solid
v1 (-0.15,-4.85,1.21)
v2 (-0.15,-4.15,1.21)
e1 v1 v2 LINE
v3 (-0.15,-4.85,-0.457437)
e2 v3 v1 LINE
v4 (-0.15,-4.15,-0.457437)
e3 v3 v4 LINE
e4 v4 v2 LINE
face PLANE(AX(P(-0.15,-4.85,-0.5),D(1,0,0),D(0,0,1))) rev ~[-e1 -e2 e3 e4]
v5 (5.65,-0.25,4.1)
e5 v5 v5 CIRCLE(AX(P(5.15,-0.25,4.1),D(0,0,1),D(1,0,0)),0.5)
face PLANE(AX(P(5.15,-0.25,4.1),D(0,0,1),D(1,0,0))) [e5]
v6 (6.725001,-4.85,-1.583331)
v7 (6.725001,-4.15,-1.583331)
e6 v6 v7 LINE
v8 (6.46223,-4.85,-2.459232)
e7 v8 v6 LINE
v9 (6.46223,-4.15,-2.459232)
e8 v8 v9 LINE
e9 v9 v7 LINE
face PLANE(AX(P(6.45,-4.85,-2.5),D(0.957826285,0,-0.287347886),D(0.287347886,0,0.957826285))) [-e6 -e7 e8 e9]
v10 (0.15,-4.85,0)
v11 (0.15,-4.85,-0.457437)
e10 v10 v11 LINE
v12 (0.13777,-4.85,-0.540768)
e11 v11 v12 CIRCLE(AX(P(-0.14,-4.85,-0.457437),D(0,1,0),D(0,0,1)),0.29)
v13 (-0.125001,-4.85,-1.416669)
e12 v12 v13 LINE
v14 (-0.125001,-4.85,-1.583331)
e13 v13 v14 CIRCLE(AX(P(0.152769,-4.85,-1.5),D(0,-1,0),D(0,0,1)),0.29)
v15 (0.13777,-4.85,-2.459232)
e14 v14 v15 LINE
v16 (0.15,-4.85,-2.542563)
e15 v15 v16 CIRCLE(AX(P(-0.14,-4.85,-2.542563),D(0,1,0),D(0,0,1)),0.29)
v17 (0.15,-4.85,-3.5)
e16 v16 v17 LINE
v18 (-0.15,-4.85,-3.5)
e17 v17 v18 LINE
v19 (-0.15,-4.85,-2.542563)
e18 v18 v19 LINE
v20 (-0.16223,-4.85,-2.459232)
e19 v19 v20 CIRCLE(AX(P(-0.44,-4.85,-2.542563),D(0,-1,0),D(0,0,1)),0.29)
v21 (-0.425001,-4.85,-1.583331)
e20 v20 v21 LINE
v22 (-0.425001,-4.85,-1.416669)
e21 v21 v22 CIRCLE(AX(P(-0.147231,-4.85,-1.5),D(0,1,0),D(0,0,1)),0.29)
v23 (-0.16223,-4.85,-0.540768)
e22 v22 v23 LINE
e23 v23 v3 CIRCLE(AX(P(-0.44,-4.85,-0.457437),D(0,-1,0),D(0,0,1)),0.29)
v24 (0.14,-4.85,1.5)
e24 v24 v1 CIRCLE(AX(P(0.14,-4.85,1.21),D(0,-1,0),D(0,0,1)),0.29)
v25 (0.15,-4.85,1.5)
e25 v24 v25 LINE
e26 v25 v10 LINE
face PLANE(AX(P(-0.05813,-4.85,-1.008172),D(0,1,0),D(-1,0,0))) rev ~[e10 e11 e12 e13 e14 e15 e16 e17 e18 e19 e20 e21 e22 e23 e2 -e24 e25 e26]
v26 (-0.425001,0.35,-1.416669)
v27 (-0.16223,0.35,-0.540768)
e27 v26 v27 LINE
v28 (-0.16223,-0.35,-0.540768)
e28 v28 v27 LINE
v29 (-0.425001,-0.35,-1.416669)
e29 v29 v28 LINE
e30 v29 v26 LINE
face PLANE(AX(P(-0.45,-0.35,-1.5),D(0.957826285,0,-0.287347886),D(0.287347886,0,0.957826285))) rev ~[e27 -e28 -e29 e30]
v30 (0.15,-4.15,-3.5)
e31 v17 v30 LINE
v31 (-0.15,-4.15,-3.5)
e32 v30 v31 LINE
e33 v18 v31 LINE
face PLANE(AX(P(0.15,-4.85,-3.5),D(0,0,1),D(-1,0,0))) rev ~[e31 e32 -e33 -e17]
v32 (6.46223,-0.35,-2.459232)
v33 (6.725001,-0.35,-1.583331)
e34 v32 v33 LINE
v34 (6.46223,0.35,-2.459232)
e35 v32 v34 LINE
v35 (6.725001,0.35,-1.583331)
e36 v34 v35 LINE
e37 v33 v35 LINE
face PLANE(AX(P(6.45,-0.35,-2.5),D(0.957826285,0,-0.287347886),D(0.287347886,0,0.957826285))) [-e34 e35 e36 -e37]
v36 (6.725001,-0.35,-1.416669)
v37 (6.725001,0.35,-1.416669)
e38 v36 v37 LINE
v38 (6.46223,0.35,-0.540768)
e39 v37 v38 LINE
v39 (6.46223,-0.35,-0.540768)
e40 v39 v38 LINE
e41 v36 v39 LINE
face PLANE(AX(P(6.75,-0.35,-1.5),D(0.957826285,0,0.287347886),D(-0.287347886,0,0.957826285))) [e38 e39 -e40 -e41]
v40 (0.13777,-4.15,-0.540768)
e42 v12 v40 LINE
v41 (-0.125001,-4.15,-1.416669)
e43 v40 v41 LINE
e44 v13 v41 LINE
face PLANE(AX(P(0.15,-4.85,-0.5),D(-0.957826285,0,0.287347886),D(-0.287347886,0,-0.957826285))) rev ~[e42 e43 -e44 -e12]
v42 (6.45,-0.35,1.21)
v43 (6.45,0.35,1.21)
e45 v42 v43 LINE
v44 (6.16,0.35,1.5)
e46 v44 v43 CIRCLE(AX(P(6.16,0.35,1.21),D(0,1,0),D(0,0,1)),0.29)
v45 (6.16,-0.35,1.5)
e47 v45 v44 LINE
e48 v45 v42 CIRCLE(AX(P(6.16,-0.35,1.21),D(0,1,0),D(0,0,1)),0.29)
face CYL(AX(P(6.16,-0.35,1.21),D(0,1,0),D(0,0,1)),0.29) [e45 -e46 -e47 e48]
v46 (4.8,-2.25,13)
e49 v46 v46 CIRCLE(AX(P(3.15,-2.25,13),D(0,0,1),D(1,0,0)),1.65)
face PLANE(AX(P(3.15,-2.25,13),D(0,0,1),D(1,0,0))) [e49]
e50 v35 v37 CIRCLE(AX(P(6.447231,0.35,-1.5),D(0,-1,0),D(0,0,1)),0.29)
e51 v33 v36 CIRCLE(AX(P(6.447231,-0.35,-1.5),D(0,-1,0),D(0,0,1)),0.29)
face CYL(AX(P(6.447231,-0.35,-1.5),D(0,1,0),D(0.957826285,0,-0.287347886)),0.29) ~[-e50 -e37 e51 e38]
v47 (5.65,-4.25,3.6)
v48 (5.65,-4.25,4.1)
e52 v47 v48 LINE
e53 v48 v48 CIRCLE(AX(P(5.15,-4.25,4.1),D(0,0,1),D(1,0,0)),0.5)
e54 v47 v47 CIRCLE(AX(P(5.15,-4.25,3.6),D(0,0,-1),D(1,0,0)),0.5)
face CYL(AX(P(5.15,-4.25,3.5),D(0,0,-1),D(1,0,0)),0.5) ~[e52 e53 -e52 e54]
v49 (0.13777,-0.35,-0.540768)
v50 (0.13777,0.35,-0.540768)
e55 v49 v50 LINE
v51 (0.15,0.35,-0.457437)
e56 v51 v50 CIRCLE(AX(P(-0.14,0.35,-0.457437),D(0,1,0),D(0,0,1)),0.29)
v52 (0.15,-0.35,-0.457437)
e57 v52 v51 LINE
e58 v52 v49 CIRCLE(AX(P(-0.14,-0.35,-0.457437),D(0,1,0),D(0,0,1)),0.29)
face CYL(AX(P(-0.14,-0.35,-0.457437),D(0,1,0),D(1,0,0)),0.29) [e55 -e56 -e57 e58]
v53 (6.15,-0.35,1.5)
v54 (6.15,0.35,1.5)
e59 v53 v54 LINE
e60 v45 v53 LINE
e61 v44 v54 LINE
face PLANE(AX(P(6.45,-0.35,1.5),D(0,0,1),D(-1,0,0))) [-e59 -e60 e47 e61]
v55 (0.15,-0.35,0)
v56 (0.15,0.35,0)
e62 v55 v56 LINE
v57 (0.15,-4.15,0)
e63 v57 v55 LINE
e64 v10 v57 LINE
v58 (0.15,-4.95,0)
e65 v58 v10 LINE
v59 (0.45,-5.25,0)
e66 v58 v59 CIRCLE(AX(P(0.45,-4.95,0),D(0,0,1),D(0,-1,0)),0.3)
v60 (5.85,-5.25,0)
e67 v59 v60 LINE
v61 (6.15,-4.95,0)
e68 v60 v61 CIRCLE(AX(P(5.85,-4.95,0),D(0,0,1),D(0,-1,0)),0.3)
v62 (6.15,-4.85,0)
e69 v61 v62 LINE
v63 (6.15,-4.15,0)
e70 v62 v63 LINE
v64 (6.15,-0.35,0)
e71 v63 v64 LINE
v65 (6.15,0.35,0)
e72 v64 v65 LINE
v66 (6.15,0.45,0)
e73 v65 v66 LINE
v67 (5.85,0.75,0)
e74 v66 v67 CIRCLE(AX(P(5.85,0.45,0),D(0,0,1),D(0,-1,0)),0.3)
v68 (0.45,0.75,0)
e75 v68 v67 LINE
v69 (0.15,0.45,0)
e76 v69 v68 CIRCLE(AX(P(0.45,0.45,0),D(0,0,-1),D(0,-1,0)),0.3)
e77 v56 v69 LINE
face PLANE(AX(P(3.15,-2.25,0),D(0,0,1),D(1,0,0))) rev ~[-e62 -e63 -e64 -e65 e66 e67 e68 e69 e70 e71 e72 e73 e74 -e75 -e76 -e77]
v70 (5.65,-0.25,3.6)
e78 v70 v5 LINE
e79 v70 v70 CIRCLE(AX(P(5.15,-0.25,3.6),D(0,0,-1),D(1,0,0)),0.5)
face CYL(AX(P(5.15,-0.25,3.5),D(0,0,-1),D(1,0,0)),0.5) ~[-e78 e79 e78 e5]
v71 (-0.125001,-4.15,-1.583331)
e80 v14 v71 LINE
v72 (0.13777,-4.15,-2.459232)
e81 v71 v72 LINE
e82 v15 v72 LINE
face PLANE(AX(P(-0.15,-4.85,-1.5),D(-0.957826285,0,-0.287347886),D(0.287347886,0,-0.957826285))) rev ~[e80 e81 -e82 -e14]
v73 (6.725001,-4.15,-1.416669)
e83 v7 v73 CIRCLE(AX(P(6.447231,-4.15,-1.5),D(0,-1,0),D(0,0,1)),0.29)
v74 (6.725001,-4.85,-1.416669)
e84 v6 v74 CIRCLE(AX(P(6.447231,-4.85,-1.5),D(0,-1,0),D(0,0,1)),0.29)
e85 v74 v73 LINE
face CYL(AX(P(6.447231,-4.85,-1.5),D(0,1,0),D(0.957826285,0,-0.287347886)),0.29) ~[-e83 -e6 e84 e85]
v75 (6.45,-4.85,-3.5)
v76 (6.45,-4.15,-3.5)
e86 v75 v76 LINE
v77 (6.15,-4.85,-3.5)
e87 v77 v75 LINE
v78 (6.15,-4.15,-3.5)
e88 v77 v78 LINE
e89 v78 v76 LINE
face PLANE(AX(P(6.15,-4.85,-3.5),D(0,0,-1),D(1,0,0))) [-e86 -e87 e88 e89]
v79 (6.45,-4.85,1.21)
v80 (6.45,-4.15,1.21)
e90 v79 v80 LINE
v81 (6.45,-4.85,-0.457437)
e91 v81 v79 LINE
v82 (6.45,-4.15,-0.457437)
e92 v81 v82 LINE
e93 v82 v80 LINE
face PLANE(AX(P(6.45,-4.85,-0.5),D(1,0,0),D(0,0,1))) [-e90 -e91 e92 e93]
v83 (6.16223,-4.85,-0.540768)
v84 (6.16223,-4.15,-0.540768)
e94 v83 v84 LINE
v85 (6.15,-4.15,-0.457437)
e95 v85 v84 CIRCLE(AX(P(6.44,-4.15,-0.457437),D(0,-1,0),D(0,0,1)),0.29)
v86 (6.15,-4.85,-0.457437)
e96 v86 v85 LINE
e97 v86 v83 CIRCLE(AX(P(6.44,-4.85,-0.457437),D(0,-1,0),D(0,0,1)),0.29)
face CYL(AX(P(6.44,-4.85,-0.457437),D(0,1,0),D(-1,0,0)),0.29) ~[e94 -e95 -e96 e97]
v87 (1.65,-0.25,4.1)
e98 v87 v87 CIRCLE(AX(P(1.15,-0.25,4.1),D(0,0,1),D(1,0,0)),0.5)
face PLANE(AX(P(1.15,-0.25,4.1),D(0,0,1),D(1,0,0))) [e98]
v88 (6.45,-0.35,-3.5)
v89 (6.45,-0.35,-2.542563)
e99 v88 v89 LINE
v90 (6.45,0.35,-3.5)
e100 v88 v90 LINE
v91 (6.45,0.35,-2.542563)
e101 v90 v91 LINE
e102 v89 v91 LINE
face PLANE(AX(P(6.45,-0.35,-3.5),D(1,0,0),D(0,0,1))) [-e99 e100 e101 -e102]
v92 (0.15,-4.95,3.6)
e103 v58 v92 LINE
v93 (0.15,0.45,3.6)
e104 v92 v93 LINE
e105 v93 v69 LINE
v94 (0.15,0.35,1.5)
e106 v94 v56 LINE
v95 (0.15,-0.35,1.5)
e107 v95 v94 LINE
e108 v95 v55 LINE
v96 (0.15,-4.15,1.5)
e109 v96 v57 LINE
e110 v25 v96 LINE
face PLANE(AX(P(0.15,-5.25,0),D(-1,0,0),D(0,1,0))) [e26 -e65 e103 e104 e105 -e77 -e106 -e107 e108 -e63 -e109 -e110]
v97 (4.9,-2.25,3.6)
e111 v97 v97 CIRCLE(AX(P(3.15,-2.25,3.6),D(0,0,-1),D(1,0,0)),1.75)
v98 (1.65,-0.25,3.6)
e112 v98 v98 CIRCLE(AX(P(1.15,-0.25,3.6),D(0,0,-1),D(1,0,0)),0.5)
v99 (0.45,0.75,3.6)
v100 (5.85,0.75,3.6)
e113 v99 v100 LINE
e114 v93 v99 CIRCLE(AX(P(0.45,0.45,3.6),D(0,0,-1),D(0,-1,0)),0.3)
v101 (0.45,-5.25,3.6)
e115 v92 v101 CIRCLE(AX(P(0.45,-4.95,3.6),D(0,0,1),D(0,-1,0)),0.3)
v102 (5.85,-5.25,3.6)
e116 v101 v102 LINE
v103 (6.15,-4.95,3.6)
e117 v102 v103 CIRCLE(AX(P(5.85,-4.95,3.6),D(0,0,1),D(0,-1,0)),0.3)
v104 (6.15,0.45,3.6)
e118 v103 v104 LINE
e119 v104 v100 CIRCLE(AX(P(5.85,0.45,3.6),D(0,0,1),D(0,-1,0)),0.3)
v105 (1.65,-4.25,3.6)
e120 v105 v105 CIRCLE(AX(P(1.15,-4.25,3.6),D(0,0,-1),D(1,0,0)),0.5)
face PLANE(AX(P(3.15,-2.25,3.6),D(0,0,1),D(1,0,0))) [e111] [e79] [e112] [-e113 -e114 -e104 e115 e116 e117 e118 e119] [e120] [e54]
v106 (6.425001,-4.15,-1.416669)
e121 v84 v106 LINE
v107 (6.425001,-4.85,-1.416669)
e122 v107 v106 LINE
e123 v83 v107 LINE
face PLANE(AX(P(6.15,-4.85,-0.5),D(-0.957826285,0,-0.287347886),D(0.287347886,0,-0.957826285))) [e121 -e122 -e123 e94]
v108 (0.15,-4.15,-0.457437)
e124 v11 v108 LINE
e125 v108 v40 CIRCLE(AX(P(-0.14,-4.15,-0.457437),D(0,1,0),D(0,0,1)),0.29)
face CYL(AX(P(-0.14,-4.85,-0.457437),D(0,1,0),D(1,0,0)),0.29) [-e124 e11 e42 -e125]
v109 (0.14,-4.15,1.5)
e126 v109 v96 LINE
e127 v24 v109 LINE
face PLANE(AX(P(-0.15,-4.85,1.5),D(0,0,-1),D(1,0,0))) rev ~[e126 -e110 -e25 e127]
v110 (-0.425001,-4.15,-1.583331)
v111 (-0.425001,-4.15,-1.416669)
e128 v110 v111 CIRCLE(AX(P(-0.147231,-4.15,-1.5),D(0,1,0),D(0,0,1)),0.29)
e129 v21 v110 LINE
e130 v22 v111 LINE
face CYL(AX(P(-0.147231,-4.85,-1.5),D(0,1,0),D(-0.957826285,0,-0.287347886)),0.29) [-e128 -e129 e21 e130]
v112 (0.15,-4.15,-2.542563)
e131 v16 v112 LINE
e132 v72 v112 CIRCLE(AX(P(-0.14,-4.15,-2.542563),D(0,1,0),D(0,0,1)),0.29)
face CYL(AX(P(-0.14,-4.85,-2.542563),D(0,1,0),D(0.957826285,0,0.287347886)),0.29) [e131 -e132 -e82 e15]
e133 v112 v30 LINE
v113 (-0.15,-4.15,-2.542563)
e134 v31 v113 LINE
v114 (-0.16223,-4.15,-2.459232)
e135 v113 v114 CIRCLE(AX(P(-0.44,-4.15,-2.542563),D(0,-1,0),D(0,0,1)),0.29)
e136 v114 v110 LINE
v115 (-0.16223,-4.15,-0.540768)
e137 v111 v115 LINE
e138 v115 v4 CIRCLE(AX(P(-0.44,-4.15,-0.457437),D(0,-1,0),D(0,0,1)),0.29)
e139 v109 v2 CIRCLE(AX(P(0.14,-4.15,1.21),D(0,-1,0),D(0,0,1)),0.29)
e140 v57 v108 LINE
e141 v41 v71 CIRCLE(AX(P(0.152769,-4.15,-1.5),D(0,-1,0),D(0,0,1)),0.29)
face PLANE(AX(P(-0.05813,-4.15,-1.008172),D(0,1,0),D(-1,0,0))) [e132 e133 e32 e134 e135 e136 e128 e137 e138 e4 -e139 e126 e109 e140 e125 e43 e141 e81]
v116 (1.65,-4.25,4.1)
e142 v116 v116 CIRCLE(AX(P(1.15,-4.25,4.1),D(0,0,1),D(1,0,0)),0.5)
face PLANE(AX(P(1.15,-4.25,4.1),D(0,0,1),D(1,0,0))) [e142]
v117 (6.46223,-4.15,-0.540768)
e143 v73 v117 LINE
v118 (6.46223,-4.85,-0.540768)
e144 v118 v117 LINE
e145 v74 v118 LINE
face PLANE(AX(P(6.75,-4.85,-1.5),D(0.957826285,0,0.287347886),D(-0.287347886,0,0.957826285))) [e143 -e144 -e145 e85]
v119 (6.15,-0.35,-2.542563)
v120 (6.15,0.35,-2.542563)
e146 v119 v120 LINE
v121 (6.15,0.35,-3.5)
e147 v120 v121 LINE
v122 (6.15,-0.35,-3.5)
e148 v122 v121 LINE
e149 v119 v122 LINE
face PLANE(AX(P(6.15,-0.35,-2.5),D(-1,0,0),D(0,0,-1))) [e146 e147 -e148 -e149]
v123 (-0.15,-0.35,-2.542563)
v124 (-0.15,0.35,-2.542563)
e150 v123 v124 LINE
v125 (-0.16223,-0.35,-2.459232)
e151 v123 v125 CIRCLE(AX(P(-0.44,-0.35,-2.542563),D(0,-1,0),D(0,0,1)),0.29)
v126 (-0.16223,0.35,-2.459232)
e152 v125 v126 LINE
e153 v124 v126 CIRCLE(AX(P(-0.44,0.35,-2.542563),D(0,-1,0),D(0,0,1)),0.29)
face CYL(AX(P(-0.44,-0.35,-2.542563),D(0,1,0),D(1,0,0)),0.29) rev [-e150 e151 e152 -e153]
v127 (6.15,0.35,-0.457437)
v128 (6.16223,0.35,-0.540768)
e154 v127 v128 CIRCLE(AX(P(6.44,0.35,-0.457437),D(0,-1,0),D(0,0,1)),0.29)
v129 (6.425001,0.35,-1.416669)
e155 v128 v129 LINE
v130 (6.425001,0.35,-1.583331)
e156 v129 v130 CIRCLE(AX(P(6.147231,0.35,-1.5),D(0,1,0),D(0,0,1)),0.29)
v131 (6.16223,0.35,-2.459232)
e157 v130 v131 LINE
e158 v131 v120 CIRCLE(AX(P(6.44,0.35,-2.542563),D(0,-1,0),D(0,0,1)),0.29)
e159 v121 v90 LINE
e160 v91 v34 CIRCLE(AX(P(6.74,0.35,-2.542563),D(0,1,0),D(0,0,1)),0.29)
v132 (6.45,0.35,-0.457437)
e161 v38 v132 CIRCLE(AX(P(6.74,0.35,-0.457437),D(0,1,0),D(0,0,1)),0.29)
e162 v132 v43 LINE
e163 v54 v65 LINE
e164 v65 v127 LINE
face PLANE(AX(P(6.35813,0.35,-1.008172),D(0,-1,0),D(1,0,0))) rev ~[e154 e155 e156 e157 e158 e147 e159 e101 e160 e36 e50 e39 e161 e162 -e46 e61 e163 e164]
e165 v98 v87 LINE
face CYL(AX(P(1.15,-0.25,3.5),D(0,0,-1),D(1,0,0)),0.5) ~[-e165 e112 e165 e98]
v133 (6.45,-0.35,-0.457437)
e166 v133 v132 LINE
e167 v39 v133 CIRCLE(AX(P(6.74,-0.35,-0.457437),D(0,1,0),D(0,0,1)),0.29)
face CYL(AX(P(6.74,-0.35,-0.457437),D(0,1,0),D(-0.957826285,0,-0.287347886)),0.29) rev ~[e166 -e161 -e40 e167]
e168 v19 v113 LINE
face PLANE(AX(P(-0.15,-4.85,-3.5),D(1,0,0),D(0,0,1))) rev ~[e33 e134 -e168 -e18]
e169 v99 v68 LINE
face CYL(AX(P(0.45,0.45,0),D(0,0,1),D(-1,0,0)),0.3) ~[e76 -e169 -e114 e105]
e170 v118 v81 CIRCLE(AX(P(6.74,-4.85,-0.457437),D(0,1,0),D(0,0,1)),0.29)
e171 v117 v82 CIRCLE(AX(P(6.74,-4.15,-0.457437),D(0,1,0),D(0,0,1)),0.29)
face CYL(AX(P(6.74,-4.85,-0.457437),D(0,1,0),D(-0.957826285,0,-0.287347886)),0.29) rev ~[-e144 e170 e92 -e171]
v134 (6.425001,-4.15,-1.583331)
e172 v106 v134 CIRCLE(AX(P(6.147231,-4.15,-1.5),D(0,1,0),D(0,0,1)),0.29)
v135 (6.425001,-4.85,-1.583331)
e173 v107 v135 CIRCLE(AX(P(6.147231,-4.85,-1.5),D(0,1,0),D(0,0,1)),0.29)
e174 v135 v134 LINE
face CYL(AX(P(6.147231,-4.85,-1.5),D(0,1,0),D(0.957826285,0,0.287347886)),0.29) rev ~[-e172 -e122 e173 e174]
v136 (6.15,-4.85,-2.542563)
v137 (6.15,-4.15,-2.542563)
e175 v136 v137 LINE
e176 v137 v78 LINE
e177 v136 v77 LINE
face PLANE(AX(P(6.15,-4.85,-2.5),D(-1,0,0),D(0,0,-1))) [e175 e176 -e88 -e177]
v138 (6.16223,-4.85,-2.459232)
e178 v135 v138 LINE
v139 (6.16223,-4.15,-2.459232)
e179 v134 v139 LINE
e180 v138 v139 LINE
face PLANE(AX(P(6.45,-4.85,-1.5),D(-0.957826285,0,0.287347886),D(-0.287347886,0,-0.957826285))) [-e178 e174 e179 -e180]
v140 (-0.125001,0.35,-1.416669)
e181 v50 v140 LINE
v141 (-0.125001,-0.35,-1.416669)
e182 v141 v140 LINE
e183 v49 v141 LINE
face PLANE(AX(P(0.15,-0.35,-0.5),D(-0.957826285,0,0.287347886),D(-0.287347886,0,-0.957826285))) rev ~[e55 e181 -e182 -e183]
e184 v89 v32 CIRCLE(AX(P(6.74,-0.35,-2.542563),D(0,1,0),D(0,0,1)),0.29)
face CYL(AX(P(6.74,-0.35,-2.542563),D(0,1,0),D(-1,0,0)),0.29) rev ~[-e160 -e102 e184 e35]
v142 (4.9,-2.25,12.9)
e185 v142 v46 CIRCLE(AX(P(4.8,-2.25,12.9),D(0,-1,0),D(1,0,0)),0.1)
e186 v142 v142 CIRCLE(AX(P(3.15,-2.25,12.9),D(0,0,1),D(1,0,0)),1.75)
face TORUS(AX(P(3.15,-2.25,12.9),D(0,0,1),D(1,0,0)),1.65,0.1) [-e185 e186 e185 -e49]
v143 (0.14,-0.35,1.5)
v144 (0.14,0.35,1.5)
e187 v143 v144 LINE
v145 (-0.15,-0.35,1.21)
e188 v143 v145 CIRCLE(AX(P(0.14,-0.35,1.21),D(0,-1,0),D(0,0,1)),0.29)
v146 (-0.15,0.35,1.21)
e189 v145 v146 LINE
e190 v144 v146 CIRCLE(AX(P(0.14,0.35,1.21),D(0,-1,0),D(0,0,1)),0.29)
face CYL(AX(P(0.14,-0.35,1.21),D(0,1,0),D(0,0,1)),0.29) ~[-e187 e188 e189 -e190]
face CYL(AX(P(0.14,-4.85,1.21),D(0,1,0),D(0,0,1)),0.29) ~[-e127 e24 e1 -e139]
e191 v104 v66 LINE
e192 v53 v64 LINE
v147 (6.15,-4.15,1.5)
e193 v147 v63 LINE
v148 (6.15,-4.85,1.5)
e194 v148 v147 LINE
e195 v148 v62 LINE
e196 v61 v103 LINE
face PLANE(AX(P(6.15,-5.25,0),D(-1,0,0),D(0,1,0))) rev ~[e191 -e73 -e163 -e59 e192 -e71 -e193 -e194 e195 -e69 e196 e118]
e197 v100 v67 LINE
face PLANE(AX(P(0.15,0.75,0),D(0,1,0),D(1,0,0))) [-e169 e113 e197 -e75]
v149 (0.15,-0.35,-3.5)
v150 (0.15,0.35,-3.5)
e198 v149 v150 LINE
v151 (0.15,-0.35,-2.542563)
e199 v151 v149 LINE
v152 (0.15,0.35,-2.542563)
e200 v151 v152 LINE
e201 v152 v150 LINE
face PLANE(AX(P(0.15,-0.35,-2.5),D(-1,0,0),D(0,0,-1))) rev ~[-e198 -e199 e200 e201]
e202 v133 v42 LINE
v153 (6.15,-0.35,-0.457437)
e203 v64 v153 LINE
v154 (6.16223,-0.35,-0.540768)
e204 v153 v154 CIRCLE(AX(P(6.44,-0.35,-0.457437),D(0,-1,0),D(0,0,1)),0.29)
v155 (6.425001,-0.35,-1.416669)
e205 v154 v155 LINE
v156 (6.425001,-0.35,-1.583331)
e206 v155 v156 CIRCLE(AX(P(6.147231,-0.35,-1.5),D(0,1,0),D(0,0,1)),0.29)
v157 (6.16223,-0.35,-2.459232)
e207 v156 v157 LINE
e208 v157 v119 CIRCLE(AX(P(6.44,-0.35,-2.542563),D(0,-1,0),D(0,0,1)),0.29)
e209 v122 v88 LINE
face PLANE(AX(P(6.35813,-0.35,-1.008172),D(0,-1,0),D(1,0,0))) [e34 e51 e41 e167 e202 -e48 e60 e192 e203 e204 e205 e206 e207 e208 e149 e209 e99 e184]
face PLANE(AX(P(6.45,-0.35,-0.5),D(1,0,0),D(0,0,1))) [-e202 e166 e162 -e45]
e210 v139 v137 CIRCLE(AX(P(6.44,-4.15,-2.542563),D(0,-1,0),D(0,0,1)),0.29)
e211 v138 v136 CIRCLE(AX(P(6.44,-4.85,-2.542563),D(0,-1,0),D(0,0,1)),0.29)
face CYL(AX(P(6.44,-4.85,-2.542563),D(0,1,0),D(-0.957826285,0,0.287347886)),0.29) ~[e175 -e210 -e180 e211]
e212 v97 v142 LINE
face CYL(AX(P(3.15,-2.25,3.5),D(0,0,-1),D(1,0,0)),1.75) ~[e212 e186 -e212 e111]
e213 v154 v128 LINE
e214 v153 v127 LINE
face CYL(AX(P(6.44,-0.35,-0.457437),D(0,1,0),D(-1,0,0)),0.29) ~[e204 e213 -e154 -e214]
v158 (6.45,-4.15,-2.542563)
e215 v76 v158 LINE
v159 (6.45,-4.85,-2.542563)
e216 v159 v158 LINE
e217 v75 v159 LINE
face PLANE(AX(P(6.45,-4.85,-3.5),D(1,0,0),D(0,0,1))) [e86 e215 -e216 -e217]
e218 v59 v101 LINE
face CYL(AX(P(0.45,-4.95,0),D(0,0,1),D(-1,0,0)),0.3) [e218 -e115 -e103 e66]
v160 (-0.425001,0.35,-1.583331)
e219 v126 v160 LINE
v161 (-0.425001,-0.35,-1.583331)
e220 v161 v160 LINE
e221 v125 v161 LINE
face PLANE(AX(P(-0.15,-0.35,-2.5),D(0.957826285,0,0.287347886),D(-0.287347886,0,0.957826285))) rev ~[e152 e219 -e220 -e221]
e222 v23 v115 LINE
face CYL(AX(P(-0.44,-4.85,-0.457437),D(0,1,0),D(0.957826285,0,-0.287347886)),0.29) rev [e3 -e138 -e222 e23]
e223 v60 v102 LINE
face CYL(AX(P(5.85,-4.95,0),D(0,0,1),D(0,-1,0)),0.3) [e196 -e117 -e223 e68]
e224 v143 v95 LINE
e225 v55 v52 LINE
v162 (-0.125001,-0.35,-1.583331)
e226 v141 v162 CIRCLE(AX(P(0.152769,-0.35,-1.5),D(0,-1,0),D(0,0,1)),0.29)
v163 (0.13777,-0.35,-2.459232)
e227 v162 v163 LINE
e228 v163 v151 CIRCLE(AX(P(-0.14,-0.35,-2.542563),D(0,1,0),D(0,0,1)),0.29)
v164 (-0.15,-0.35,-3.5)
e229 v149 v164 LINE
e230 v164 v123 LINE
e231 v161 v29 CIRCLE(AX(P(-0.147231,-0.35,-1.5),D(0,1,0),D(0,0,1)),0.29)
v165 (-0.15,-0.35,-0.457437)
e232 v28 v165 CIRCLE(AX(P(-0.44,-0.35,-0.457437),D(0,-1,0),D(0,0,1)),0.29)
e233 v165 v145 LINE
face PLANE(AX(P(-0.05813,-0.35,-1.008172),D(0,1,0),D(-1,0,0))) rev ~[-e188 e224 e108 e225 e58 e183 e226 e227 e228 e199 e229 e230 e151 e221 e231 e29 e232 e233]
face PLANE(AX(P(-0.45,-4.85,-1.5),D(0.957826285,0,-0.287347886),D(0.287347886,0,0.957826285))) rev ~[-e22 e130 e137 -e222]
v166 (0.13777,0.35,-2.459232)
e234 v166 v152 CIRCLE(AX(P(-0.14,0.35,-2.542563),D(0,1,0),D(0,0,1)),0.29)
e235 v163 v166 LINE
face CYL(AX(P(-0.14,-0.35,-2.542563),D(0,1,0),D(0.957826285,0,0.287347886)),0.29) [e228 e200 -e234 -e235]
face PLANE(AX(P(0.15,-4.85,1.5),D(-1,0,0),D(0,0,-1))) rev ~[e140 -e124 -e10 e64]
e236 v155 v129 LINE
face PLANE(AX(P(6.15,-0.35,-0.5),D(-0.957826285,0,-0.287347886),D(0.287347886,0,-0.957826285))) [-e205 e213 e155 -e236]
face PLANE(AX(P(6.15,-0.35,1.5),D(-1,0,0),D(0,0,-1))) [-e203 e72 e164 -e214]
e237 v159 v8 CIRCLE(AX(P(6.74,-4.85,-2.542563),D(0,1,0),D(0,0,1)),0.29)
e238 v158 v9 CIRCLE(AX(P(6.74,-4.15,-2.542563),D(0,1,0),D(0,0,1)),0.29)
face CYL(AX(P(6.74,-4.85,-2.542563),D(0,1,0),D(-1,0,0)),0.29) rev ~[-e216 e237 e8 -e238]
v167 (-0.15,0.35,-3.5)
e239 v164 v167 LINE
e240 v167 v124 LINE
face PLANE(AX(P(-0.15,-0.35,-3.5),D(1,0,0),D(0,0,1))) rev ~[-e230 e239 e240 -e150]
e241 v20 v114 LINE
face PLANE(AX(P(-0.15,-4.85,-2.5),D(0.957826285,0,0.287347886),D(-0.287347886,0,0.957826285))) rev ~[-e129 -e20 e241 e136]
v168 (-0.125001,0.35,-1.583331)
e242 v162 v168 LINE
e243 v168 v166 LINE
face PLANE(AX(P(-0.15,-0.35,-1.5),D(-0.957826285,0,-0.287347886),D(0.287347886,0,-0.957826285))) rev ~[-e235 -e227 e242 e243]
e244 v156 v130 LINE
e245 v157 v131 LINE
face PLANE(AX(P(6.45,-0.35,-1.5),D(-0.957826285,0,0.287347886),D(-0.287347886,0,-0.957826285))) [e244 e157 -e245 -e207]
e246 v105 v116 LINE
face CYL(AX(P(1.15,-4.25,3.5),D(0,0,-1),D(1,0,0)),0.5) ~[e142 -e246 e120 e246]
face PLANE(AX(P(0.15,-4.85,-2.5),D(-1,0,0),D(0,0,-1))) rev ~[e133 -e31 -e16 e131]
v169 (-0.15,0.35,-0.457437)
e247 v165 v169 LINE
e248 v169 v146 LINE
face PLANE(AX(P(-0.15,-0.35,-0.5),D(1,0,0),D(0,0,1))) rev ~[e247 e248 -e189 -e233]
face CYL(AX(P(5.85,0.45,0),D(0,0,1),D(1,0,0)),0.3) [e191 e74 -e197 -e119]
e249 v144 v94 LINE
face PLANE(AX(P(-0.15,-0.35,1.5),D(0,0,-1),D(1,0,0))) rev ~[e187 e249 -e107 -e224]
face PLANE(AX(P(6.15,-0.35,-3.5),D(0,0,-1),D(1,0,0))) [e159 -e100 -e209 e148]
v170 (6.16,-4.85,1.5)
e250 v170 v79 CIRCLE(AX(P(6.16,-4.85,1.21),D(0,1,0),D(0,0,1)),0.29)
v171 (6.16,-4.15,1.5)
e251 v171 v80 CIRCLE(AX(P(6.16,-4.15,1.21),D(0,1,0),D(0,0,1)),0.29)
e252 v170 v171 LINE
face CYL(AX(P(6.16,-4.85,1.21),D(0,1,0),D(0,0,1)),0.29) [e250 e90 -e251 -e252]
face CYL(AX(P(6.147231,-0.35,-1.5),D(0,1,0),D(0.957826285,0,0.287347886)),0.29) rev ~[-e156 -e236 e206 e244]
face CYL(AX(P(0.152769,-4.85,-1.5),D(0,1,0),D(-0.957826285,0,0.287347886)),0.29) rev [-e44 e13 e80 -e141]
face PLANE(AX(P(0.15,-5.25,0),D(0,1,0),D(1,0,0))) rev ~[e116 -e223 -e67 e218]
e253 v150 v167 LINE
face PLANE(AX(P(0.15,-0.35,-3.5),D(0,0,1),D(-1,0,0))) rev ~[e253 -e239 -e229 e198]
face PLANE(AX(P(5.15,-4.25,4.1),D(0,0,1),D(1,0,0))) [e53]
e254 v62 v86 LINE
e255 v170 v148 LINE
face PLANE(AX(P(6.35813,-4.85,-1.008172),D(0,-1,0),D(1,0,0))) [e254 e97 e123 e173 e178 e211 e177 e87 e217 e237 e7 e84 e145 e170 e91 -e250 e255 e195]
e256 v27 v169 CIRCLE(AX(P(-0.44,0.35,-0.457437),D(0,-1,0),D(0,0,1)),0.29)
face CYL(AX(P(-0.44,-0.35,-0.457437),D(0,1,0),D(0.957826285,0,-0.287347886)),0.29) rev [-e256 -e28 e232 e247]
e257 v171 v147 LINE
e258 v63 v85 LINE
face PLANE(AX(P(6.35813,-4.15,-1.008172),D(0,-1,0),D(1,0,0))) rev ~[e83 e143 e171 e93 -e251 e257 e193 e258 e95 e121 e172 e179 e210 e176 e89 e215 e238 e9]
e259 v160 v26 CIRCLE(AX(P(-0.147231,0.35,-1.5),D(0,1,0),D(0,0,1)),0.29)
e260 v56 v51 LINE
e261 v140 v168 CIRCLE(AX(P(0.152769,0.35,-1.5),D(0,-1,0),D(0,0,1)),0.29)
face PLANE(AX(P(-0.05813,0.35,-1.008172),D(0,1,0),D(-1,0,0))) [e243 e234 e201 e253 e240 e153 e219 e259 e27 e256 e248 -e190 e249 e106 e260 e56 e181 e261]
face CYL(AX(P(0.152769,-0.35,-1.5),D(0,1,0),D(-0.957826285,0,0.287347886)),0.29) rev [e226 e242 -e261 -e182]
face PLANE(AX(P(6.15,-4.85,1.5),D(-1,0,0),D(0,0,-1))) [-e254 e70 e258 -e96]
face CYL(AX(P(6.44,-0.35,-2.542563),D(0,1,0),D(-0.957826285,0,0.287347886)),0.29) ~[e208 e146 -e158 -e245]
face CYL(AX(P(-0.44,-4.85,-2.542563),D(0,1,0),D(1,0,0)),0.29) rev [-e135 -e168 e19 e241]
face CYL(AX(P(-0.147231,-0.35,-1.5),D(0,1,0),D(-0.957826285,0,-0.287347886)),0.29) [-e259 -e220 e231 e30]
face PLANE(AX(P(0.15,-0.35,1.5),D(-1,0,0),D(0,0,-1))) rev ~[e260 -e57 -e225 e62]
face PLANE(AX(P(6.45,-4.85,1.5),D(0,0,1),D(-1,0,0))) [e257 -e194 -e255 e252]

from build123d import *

# Parameters (mm, degrees)
SKETCH001_W  = 6
SKETCH001_H  = 6
PAD001_DEPTH = 0.1
FILLET001_R  = 0.3
PAD008_DEPTH = 0.7
FILLET003_R  = 0.29
PAD009_DEPTH = 0.7
FILLET004_R  = 0.29
PAD010_DEPTH = 0.7
FILLET005_R  = 0.29
SKETCH_W     = 6
SKETCH_H     = 6
PAD_DEPTH    = 3.5
FILLET_R     = 0.3
SKETCH004_R  = 0.5
PAD003_DEPTH = 0.6
SKETCH003_R  = 0.5
PAD004_DEPTH = 0.6
SKETCH005_R  = 0.5
PAD002_DEPTH = 0.6
SKETCH002_R  = 0.5
PAD005_DEPTH = 0.6
SKETCH006_R  = 1.75
PAD006_DEPTH = 9.5
FILLET006_R  = 0.1
PAD007_DEPTH = 0.7
FILLET002_R  = 0.29


with BuildPart() as fillet001:
    # Sketch001 → Pad001 (new body)
    with BuildSketch(Plane.XY.offset(3.5)):
        with Locations((3.15, -2.25)):
            Rectangle(SKETCH001_W, SKETCH001_H)
    extrude(amount=PAD001_DEPTH)

    # Fillet001
    fillet001_edges = [fillet001.edges().sort_by_distance(p)[0] for p in [
        (6.15, -5.25, 3.55),
        (0.15, -5.25, 3.55),
        (6.15, 0.75, 3.55),
        (0.15, 0.75, 3.55),
    ]]
    fillet(fillet001_edges, radius=FILLET001_R)


with BuildPart() as fillet003:
    # Sketch008 → Pad008 (new body)
    with BuildSketch(Plane.XZ.offset(0.35)):
        Polygon((-0.15, 1.5), (0.15, 1.5), (0.15, -0.5), (-0.15, -1.5), (0.15, -2.5), (0.15, -3.5), (-0.15, -3.5), (-0.15, -2.5), (-0.45, -1.5), (-0.15, -0.5), align=None)
    extrude(amount=-PAD008_DEPTH)

    # Fillet003
    fillet003_edges = [fillet003.edges().sort_by_distance(p)[0] for p in [
        (-0.15, 0, -2.5),
        (-0.15, 0, -0.5),
        (-0.45, 0, -1.5),
        (-0.15, 0, 1.5),
        (0.15, 0, -0.5),
        (-0.15, 0, -1.5),
        (0.15, 0, -2.5),
    ]]
    fillet(fillet003_edges, radius=FILLET003_R)


with BuildPart() as fillet004:
    # Sketch009 → Pad009 (new body)
    with BuildSketch(Plane.XZ.offset(4.85)):
        Polygon((6.45, 1.5), (6.15, 1.5), (6.15, -0.5), (6.45, -1.5), (6.15, -2.5), (6.15, -3.5), (6.45, -3.5), (6.45, -2.5), (6.75, -1.5), (6.45, -0.5), align=None)
    extrude(amount=-PAD009_DEPTH)

    # Fillet004
    fillet004_edges = [fillet004.edges().sort_by_distance(p)[0] for p in [
        (6.45, -4.5, -2.5),
        (6.45, -4.5, -0.5),
        (6.75, -4.5, -1.5),
        (6.45, -4.5, 1.5),
        (6.15, -4.5, -0.5),
        (6.45, -4.5, -1.5),
        (6.15, -4.5, -2.5),
    ]]
    fillet(fillet004_edges, radius=FILLET004_R)


with BuildPart() as fillet005:
    # Sketch010 → Pad010 (new body)
    with BuildSketch(Plane.XZ.offset(0.35)):
        Polygon((6.45, 1.5), (6.15, 1.5), (6.15, -0.5), (6.45, -1.5), (6.15, -2.5), (6.15, -3.5), (6.45, -3.5), (6.45, -2.5), (6.75, -1.5), (6.45, -0.5), align=None)
    extrude(amount=-PAD010_DEPTH)

    # Fillet005
    fillet005_edges = [fillet005.edges().sort_by_distance(p)[0] for p in [
        (6.45, 0, -2.5),
        (6.45, 0, -0.5),
        (6.75, 0, -1.5),
        (6.45, 0, 1.5),
        (6.15, 0, -0.5),
        (6.45, 0, -1.5),
        (6.15, 0, -2.5),
    ]]
    fillet(fillet005_edges, radius=FILLET005_R)


with BuildPart() as fillet_body:
    # Sketch → Pad (new body)
    with BuildSketch(Plane.XY):
        with Locations((3.15, -2.25)):
            Rectangle(SKETCH_W, SKETCH_H)
    extrude(amount=PAD_DEPTH)

    # Fillet
    fillet_edges = [fillet_body.edges().sort_by_distance(p)[0] for p in [
        (6.15, 0.75, 1.75),
        (6.15, -5.25, 1.75),
        (0.15, -5.25, 1.75),
        (0.15, 0.75, 1.75),
    ]]
    fillet(fillet_edges, radius=FILLET_R)


with BuildPart() as pad003:
    # Pad003 base: copy of Fillet body
    add(fillet_body.part)

    # Sketch004 → Pad003 (new body)
    with BuildSketch(Plane.XY.offset(3.5)):
        with Locations((5.15, -0.25)):
            Circle(SKETCH004_R)
    extrude(amount=PAD003_DEPTH)


with BuildPart() as pad004:
    # Pad004 base: copy of Fillet body
    add(fillet_body.part)

    # Sketch003 → Pad004 (new body)
    with BuildSketch(Plane.XY.offset(3.5)):
        with Locations((5.15, -4.25)):
            Circle(SKETCH003_R)
    extrude(amount=PAD004_DEPTH)


with BuildPart() as pad002:
    # Pad002 base: copy of Fillet body
    add(fillet_body.part)

    # Sketch005 → Pad002 (new body)
    with BuildSketch(Plane.XY.offset(3.5)):
        with Locations((1.15, -0.25)):
            Circle(SKETCH005_R)
    extrude(amount=PAD002_DEPTH)


with BuildPart() as pad005:
    # Pad005 base: copy of Fillet body
    add(fillet_body.part)

    # Sketch002 → Pad005 (new body)
    with BuildSketch(Plane.XY.offset(3.5)):
        with Locations((1.15, -4.25)):
            Circle(SKETCH002_R)
    extrude(amount=PAD005_DEPTH)


with BuildPart() as fillet006:
    # Pad006 base: copy of Fillet body
    add(fillet_body.part)

    # Sketch006 → Pad006 (new body)
    with BuildSketch(Plane.XY.offset(3.5)):
        with Locations((3.15, -2.25)):
            Circle(SKETCH006_R)
    extrude(amount=PAD006_DEPTH)

    # Fillet006
    fillet006_edges = [fillet006.edges().sort_by_distance(p)[0] for p in [
        (1.4, -2.25, 13),
    ]]
    fillet(fillet006_edges, radius=FILLET006_R)


with BuildPart() as sw_push_6mm_h13mm:
    # Sketch007 → Pad007 (new body)
    with BuildSketch(Plane.XZ.offset(4.85)):
        Polygon((-0.15, 1.5), (0.15, 1.5), (0.15, -0.5), (-0.15, -1.5), (0.15, -2.5), (0.15, -3.5), (-0.15, -3.5), (-0.15, -2.5), (-0.45, -1.5), (-0.15, -0.5), align=None)
    extrude(amount=-PAD007_DEPTH)

    # Fillet002
    fillet002_edges = [sw_push_6mm_h13mm.edges().sort_by_distance(p)[0] for p in [
        (-0.15, -4.5, -2.5),
        (-0.15, -4.5, -0.5),
        (-0.45, -4.5, -1.5),
        (-0.15, -4.5, 1.5),
        (0.15, -4.5, -0.5),
        (-0.15, -4.5, -1.5),
        (0.15, -4.5, -2.5),
    ]]
    fillet(fillet002_edges, radius=FILLET002_R)

    # Fillet002_mp_cp: union Fillet001, Fillet003, Fillet004, Fillet005, Pad003, Pad004, Pad002, Pad005, Fillet006
    add(fillet001.part)
    add(fillet003.part)
    add(fillet004.part)
    add(fillet005.part)
    add(pad003.part)
    add(pad004.part)
    add(pad002.part)
    add(pad005.part)
    add(fillet006.part)


solid = sw_push_6mm_h13mm.part
